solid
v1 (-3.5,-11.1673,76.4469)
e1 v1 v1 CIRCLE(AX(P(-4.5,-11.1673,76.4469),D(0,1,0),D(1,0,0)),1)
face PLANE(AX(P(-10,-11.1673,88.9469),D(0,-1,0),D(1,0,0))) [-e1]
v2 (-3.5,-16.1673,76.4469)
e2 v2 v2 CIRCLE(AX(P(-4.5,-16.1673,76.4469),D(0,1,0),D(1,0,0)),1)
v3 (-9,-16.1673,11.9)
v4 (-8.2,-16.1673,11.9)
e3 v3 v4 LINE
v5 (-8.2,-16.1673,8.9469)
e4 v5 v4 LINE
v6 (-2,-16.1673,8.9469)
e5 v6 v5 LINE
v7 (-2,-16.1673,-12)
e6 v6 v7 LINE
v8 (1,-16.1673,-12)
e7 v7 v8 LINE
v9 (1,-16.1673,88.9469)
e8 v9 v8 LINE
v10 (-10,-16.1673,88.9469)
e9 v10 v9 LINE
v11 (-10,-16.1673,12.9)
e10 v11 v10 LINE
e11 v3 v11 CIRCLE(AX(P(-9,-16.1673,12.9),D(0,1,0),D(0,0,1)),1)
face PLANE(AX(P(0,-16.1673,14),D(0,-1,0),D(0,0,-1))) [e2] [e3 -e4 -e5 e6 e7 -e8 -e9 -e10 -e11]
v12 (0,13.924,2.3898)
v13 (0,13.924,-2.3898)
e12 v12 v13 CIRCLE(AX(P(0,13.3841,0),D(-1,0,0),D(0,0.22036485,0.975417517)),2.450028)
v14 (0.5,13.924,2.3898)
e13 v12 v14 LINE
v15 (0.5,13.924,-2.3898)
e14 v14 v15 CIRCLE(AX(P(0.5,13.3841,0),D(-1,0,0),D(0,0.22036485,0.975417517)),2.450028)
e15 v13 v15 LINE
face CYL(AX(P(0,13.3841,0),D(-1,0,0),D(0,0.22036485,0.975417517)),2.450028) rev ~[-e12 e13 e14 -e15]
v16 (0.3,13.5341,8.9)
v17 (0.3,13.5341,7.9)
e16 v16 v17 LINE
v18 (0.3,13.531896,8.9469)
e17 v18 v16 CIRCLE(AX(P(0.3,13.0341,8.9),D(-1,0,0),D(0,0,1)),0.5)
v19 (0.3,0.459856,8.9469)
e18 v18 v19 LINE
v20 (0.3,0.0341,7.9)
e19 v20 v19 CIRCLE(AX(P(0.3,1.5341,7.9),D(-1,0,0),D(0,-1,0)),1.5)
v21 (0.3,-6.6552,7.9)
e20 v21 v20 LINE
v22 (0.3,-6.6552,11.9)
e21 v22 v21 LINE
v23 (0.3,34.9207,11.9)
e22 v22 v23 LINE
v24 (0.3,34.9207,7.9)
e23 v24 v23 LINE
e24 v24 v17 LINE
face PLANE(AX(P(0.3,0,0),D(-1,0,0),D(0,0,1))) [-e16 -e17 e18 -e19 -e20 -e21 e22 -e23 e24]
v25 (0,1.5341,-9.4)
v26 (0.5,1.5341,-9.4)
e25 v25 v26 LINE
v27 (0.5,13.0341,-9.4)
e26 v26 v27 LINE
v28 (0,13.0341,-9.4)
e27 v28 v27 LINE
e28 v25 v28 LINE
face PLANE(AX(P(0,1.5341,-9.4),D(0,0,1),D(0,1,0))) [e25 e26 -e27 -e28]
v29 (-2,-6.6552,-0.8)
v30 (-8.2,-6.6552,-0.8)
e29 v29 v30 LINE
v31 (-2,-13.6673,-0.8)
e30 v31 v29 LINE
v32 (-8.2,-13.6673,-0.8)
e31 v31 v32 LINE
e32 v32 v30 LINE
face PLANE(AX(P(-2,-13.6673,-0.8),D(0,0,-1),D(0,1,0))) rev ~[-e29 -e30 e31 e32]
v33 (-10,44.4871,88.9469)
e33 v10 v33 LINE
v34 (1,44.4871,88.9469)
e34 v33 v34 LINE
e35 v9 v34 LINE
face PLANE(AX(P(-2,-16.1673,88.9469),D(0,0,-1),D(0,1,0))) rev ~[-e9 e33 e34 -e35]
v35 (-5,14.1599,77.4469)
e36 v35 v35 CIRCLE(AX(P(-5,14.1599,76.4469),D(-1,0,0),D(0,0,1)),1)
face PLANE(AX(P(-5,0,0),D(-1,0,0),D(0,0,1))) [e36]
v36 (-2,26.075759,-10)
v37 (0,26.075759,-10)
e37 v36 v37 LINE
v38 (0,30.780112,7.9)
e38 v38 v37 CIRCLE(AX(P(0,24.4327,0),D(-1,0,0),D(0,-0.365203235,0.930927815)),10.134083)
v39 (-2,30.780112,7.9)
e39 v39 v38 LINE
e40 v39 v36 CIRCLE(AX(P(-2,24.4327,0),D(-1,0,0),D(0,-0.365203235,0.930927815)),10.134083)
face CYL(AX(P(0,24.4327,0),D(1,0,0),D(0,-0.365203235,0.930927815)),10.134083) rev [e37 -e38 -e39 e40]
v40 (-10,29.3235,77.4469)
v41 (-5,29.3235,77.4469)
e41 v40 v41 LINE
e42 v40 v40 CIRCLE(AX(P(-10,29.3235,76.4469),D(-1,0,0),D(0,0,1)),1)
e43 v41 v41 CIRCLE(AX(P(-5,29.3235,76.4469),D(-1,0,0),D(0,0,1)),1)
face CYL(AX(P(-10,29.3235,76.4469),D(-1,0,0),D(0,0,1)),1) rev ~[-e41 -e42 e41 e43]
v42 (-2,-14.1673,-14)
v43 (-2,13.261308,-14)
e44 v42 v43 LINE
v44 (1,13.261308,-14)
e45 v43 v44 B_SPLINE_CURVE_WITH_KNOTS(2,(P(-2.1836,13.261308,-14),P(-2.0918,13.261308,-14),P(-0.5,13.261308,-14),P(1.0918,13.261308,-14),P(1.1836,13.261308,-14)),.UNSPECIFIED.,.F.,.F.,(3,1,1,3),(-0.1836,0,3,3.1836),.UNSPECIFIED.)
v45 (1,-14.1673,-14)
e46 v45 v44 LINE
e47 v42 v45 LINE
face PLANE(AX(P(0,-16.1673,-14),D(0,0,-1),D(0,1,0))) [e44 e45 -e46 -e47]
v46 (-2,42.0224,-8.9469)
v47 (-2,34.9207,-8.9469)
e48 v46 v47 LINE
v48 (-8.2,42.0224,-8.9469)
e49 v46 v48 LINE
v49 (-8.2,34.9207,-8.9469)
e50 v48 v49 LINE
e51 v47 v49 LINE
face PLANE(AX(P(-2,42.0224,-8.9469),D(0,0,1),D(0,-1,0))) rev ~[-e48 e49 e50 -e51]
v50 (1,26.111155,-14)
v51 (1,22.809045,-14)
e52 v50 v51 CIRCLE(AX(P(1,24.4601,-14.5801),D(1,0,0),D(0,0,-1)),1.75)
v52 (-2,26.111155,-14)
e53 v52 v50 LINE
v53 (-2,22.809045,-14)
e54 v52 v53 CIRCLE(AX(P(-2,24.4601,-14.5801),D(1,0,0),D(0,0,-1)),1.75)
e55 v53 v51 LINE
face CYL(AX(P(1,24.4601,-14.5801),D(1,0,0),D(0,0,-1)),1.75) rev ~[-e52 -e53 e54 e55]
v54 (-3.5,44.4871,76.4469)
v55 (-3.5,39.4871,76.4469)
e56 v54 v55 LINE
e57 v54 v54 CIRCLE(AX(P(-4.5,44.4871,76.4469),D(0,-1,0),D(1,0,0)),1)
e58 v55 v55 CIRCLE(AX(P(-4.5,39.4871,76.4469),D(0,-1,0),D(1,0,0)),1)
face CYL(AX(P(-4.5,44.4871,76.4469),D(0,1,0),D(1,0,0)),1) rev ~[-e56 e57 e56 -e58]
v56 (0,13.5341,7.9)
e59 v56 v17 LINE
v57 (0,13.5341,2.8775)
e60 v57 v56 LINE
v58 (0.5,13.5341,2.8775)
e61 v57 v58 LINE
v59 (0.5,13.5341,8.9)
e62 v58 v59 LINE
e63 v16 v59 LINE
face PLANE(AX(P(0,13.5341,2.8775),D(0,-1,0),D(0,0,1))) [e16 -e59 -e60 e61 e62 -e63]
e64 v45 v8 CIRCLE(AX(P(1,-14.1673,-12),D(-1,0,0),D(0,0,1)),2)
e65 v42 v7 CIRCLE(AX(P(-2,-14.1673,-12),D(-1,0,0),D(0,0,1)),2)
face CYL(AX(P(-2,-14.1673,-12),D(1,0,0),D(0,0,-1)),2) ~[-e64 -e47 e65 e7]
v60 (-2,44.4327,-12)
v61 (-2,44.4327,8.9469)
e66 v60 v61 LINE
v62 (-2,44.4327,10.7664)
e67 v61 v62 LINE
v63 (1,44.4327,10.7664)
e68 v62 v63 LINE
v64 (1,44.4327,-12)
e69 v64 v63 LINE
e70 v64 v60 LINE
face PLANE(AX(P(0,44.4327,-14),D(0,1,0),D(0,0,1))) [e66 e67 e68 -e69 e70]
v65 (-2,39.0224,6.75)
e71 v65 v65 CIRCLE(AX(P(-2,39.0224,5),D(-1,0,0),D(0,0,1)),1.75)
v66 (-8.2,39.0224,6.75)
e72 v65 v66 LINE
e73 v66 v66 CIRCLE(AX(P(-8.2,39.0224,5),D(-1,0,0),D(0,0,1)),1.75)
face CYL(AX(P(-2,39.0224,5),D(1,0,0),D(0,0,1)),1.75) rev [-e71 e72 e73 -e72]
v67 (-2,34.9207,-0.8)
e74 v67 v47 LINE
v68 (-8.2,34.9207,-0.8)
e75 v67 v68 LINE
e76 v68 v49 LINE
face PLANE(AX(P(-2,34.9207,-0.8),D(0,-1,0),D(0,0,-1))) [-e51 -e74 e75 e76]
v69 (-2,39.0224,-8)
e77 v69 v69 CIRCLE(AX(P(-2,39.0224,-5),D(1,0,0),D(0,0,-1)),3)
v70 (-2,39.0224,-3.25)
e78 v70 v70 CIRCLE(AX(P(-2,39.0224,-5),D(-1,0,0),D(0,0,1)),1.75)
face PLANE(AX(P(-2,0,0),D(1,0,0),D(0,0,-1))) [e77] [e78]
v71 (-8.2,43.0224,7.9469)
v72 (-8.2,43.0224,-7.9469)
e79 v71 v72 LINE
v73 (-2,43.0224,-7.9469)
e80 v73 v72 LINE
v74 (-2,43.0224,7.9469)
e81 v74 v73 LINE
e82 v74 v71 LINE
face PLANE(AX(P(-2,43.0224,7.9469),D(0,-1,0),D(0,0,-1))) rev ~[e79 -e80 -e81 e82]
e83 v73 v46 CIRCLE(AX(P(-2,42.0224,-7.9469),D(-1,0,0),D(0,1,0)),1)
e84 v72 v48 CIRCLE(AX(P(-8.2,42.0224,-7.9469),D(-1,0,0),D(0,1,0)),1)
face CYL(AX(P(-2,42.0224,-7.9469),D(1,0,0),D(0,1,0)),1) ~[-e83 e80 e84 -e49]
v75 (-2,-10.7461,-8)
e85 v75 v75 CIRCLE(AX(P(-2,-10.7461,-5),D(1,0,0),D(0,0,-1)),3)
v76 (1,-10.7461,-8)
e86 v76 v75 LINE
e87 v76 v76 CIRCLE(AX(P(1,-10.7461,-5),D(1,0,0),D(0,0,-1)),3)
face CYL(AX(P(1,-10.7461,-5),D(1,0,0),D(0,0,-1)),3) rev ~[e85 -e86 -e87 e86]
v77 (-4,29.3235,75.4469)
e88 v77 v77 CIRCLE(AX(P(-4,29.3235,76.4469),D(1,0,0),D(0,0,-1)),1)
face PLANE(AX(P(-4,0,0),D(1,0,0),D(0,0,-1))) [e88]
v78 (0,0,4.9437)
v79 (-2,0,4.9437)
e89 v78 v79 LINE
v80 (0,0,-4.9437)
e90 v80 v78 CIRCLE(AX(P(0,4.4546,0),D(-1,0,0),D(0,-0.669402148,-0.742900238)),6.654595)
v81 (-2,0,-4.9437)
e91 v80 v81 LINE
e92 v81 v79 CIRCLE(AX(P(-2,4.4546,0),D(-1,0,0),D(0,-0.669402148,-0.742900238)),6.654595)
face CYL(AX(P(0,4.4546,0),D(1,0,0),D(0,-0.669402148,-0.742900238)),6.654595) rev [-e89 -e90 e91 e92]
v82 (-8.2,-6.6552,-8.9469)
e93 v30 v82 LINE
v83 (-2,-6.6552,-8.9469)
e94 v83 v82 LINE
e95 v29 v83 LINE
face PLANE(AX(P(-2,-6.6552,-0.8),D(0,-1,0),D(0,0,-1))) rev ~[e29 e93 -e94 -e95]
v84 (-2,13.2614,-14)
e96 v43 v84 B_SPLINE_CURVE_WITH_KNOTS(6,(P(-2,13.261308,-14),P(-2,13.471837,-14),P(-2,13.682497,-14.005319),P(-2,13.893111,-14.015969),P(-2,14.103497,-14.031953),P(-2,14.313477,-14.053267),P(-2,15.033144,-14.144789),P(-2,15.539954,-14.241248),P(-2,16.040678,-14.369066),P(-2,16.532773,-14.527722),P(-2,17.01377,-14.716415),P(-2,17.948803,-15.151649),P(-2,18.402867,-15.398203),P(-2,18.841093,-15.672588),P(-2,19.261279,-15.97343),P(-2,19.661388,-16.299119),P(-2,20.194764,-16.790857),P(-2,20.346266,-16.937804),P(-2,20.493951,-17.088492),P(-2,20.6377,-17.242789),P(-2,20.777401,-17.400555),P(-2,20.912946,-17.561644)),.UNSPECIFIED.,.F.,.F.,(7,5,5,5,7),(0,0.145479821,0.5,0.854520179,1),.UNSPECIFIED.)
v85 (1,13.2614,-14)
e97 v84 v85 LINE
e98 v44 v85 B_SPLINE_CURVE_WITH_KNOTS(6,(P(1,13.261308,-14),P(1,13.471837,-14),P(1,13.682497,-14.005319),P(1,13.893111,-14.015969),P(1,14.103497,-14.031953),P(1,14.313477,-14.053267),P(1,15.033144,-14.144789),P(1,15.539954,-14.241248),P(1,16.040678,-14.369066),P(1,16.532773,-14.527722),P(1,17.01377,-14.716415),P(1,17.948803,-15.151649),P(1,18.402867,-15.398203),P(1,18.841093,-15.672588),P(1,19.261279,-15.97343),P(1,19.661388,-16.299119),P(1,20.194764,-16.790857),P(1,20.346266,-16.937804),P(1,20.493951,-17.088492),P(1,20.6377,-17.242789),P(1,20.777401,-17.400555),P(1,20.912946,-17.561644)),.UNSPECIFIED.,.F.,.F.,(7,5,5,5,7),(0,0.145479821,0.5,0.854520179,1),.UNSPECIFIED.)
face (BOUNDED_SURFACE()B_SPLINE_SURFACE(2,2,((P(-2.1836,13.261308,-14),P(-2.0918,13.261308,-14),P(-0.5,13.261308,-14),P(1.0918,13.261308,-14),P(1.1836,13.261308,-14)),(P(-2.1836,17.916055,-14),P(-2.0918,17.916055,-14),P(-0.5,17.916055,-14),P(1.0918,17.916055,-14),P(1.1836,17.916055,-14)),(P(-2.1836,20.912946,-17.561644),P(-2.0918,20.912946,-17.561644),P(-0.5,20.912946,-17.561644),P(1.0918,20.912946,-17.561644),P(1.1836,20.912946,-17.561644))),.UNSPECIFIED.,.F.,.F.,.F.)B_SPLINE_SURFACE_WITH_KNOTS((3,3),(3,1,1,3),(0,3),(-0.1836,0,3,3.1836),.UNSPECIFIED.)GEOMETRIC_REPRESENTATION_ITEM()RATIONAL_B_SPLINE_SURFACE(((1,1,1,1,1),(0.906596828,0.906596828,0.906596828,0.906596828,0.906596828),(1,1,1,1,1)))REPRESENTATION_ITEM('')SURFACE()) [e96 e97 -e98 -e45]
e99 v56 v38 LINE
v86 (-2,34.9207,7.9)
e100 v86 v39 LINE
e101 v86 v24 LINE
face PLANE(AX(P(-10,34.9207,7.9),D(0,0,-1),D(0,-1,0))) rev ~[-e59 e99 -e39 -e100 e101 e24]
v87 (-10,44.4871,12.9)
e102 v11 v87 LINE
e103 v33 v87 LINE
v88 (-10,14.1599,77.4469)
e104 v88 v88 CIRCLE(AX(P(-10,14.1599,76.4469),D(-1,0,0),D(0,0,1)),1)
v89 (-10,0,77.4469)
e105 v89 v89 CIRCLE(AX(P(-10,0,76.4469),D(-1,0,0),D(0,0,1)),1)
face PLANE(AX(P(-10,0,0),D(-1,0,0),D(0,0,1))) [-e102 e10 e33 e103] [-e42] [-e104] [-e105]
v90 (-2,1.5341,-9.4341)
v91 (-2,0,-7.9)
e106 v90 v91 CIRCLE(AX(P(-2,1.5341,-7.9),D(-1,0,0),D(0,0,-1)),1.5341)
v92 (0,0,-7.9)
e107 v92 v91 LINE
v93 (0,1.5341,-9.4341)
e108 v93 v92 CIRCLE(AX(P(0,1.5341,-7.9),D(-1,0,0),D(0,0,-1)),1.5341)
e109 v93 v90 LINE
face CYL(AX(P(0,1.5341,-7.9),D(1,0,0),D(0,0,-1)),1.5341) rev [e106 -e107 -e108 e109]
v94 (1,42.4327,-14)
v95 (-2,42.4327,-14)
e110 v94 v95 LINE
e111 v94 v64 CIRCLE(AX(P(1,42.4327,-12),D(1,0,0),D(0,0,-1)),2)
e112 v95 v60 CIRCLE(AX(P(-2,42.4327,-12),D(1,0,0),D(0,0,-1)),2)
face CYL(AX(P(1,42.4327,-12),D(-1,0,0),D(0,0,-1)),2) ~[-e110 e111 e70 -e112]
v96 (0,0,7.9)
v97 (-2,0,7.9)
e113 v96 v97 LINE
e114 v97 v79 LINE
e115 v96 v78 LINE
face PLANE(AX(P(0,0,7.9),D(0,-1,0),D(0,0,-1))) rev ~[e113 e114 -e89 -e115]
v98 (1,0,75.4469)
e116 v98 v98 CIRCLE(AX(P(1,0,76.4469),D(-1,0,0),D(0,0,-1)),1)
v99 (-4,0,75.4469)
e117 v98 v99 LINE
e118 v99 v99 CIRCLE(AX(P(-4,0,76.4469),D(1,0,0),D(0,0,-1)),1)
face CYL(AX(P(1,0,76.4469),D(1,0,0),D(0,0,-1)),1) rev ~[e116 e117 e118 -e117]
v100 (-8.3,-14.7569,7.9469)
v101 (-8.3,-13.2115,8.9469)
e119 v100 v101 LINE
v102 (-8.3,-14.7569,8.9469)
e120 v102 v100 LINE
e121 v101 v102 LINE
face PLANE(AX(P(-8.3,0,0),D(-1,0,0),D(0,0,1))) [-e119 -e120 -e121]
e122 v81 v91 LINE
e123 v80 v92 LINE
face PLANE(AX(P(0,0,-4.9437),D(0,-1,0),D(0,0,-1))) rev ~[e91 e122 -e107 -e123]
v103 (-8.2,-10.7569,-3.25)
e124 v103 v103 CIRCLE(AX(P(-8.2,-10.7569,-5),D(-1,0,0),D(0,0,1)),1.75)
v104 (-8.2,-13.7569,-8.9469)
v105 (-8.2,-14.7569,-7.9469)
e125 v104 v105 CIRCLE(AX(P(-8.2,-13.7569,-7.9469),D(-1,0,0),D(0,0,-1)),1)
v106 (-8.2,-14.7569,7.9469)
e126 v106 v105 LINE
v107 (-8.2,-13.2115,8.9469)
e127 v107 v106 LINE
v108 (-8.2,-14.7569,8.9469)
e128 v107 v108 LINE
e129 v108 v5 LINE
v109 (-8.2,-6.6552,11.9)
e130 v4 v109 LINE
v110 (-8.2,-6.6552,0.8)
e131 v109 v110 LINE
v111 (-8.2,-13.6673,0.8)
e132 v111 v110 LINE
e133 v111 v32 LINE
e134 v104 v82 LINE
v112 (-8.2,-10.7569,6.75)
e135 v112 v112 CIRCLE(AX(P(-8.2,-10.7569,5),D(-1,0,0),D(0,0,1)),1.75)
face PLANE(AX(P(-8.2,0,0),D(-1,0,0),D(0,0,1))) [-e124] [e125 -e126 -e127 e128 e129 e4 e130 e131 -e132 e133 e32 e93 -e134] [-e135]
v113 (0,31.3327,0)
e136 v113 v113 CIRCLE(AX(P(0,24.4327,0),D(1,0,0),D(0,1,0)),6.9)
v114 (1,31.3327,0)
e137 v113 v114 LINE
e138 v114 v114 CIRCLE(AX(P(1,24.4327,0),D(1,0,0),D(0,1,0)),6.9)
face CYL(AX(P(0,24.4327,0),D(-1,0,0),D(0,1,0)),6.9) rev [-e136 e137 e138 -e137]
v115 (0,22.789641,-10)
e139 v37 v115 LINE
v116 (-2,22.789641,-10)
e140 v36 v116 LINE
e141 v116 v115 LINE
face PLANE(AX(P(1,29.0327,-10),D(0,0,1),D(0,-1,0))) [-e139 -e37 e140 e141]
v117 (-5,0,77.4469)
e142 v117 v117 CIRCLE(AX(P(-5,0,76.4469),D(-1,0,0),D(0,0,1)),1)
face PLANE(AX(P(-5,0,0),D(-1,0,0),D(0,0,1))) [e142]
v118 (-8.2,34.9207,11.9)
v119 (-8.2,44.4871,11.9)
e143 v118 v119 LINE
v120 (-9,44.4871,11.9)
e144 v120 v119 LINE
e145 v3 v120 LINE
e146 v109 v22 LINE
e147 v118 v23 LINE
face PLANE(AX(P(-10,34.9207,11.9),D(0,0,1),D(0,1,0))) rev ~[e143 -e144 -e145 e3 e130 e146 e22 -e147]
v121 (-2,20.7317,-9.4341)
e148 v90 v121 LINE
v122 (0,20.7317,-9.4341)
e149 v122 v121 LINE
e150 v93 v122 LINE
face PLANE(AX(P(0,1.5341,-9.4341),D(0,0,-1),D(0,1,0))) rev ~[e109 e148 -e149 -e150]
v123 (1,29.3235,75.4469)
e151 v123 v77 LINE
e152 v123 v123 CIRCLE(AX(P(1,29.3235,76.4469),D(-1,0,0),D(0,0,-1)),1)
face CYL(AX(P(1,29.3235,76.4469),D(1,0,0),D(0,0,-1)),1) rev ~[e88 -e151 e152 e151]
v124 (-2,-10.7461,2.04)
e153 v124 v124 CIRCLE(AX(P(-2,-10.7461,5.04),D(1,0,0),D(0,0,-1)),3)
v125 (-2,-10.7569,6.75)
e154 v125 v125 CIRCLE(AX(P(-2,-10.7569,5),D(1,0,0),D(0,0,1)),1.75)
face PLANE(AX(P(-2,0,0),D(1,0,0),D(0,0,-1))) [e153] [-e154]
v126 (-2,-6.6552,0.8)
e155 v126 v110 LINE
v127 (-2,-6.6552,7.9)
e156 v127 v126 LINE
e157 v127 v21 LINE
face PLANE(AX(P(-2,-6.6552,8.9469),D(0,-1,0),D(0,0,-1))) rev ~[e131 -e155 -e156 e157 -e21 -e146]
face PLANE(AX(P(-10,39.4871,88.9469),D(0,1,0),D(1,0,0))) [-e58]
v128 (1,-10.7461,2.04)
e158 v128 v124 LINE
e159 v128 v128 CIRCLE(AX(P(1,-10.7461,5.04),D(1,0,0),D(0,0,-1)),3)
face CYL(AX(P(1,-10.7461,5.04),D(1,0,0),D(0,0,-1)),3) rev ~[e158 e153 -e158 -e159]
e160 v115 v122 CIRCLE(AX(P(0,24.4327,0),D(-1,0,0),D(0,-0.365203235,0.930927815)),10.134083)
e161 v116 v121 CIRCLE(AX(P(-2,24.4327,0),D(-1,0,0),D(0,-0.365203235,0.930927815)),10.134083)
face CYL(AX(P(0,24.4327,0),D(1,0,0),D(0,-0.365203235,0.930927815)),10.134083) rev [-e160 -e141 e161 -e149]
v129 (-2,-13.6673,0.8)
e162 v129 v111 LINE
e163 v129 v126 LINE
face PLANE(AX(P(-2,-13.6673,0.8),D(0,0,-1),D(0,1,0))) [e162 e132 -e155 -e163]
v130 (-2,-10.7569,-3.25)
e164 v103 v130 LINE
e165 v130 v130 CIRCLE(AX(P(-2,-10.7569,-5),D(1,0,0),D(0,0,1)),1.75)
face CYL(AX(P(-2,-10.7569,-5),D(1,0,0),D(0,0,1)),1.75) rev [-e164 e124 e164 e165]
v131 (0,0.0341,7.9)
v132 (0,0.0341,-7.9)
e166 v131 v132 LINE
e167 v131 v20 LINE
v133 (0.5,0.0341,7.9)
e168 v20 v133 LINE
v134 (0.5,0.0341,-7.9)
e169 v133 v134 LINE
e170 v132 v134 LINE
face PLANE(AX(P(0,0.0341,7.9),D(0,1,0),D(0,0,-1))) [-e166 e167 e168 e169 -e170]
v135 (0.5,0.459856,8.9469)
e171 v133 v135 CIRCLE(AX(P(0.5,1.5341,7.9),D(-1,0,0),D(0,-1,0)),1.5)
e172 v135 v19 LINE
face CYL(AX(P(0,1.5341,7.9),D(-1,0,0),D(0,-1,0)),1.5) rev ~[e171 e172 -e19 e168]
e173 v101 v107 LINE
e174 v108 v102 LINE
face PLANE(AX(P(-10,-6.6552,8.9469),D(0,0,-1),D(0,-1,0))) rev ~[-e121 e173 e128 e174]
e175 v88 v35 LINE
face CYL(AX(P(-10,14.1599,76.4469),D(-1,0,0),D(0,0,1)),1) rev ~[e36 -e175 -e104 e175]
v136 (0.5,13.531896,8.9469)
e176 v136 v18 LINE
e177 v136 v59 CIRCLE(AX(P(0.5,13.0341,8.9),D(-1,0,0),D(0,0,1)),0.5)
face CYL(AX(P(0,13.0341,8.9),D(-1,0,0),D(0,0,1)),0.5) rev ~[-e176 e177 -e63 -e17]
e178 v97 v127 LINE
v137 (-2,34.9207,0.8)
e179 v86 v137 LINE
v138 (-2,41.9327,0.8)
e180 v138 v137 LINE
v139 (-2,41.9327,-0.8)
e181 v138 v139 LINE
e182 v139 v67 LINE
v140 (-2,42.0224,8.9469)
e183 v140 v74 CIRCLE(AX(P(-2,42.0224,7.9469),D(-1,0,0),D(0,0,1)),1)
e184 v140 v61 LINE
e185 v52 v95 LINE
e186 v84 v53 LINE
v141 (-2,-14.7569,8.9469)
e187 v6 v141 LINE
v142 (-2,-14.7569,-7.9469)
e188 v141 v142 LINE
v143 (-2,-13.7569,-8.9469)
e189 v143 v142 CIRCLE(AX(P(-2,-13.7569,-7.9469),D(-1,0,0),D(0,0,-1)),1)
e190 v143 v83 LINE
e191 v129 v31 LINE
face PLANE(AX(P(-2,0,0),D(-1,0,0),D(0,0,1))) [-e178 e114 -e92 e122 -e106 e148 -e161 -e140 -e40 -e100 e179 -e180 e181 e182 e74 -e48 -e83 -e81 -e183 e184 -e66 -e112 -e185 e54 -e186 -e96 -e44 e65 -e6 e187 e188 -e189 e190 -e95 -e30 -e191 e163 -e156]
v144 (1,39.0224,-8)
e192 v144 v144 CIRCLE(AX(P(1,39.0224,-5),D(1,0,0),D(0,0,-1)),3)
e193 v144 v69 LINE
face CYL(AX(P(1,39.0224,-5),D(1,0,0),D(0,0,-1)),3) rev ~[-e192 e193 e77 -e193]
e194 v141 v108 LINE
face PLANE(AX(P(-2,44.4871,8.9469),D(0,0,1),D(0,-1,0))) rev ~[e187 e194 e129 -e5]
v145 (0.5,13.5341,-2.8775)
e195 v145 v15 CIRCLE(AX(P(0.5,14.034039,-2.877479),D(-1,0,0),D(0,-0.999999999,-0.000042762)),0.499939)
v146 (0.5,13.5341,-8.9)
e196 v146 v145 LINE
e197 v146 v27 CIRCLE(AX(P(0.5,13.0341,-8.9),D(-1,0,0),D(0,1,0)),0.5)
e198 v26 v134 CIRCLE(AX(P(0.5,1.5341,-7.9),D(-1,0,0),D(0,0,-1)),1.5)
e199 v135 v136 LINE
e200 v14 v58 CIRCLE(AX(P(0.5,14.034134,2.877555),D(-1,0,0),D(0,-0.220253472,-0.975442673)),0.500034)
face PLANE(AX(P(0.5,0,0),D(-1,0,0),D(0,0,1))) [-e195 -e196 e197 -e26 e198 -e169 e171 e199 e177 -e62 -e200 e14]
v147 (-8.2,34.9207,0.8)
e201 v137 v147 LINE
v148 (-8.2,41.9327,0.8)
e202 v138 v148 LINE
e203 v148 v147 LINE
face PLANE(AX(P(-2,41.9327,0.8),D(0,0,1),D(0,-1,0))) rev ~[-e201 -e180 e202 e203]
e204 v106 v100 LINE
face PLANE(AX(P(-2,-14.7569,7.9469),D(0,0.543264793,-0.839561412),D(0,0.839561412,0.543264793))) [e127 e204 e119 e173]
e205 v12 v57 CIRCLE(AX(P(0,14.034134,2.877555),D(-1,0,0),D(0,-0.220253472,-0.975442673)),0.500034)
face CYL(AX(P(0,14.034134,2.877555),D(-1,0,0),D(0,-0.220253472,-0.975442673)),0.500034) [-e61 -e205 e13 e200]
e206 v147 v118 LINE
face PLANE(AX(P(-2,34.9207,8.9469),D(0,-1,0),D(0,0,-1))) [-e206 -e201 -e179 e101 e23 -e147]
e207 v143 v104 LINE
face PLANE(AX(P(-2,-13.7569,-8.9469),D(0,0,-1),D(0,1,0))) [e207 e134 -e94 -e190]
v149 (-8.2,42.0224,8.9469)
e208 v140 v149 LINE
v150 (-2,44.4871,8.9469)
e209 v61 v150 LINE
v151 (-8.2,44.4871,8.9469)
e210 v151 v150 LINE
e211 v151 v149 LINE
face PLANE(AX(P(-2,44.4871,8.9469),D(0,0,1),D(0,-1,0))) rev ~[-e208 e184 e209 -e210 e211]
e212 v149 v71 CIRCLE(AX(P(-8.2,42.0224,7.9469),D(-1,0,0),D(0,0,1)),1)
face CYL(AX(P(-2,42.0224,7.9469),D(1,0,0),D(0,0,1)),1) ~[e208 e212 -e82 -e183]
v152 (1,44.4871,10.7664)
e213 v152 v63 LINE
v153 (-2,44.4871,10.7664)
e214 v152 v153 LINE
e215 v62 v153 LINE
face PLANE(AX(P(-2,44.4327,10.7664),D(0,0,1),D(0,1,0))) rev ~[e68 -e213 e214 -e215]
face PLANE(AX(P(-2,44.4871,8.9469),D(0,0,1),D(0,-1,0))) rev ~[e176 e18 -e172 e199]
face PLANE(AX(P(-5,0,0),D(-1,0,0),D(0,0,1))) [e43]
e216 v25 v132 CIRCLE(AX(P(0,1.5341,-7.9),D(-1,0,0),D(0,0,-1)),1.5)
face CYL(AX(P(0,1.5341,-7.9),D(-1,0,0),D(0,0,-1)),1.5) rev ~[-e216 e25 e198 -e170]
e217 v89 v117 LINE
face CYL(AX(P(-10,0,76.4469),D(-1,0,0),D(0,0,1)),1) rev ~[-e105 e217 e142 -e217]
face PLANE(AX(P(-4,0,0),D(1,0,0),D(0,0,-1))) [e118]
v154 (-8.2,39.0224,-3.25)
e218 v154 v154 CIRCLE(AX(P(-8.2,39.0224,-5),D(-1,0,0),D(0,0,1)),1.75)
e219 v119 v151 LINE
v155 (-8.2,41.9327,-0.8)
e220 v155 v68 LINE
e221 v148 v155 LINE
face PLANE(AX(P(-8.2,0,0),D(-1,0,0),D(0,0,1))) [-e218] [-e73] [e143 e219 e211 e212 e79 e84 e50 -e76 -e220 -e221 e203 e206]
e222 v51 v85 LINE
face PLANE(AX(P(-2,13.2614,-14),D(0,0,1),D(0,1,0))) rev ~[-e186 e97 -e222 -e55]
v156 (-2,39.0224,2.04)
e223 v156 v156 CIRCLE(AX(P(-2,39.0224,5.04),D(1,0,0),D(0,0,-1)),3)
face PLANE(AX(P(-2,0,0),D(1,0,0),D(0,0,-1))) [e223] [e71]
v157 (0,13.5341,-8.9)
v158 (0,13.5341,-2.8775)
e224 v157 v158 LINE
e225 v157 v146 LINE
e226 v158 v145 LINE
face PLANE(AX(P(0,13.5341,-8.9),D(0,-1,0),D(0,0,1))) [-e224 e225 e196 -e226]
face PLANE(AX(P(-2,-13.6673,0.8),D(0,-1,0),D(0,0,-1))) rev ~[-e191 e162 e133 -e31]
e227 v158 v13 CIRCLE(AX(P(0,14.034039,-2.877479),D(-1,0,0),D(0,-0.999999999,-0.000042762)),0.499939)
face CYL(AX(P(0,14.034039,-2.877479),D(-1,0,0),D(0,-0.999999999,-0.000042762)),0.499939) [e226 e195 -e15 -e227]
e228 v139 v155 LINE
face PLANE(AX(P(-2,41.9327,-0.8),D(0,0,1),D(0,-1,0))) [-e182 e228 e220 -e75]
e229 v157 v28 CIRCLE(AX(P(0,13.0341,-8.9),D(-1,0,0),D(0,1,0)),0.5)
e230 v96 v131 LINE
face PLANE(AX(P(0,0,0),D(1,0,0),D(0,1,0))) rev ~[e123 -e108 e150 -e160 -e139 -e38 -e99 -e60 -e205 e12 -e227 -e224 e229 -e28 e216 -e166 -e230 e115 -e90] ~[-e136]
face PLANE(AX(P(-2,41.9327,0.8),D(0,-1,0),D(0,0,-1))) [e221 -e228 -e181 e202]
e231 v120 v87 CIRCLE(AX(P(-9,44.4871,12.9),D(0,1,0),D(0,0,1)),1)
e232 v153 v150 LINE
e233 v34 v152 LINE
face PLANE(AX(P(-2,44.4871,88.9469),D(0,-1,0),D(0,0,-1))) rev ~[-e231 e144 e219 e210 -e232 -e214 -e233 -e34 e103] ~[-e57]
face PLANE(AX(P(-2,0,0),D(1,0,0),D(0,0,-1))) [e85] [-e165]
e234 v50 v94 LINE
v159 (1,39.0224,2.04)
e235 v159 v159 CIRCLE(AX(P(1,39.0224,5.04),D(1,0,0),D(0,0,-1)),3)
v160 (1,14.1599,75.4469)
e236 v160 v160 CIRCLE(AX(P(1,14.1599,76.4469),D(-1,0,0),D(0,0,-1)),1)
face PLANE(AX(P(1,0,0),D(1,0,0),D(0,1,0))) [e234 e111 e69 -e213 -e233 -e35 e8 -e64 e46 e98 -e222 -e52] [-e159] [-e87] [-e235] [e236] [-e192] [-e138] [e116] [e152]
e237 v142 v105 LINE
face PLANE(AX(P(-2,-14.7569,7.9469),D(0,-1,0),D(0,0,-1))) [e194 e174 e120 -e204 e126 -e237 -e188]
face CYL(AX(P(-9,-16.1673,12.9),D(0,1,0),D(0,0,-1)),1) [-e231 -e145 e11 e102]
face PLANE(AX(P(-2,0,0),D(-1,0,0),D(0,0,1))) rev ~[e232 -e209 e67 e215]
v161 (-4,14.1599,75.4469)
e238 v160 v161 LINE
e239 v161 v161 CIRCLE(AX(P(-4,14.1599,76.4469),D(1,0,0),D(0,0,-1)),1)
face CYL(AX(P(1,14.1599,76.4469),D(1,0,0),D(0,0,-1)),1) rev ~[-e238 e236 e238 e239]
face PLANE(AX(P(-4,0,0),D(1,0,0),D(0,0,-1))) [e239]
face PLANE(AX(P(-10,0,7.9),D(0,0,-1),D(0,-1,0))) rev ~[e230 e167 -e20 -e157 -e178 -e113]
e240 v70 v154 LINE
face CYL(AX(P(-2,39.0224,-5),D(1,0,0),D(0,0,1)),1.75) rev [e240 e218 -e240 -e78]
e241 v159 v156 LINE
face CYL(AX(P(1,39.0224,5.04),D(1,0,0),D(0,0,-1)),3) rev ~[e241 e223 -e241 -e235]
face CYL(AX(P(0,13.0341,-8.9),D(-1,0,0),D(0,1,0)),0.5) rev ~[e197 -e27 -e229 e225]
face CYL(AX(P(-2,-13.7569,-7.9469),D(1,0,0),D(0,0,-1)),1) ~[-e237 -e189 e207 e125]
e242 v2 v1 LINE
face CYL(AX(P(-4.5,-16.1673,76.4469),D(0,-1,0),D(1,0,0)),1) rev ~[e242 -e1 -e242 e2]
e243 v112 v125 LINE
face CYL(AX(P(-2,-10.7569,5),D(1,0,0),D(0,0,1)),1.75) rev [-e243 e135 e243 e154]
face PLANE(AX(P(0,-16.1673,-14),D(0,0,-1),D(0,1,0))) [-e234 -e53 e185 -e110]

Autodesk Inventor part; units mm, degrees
ref_plane "YZ Plane" through (0, 0, 0) normal (1, 0, 0) x (0, 1, 0)
ref_plane "XZ Plane" through (0, 0, 0) normal (0, 1, 0) x (-1, 0, 0)
ref_plane "XY Plane" through (0, 0, 0) normal (0, 0, 1) x (1, 0, 0)
sketch "Boceto2" plane through (0, 0, 0) normal (1, 0, 0) x (0, 1, 0)
  line L0 (44.4327, 14) -> (-16.1673, 14)
  line L1 (-16.1673, 14) -> (-16.1673, -14)
  line L2 (-16.1673, -14) -> (44.4327, -14)
  line L3 (44.4327, -14) -> (44.4327, 14)
  line L4 (-13.1673, 3.75) -> (-13.1673, -3.75) construction
  line L5 (41.4327, 3.75) -> (41.4327, -3.75) construction
  circle A0 centre (24.4327, 0) radius 6.4 construction
  circle A1 centre (24.4327, 0) radius 6.9
  point P0 (-16.1673, 0)
  point P1 (0, 0)
  dimension "d11" = 28
  dimension "d12" = 3
  dimension "d13" = 3
  dimension "d14" = 0.5
extrude "Extrusión2" add sketch "Boceto2" along normal blind 1
sketch "Boceto3" plane through (0, 0, 0) normal (-1, 0, 0) x (0, 0, 1)
  line L0 (-8.9, 13.0341) -> (-1.9183, 13.0341) construction
  line L1 (-8.9, 1.5341) -> (-8.9, 13.0341) construction
  arc A0 (-8.9, 1.5341) -> (-7.9, 0.5341) centre (-7.9, 1.5341) ccw construction
  line L2 (7.9, 0.5341) -> (-7.9, 0.5341) construction
  arc A1 (7.9, 0.5341) -> (8.9, 1.5341) centre (7.9, 1.5341) ccw construction
  line L3 (8.9, 13.0341) -> (8.9, 1.5341) construction
  arc A2 (1.9183, 13.0341) -> (-1.9183, 13.0341) centre (0, 13.3841) ccw construction
  line L4 (1.9183, 13.0341) -> (8.9, 13.0341) construction
  line L5 (-8.9, 13.5341) -> (-2.8775, 13.5341)
  arc A3 (2.3898, 13.924) -> (-2.3898, 13.924) centre (0, 13.3841) ccw
  line L6 (2.8775, 13.5341) -> (8.9, 13.5341)
  line L7 (9.4, 13.0341) -> (9.4, 1.5341)
  arc A4 (7.9, 0.0341) -> (9.4, 1.5341) centre (7.9, 1.5341) ccw
  line L8 (7.9, 0.0341) -> (-7.9, 0.0341)
  arc A5 (-9.4, 1.5341) -> (-7.9, 0.0341) centre (-7.9, 1.5341) ccw
  line L9 (-9.4, 1.5341) -> (-9.4, 13.0341)
  arc A6 (-2.8775, 13.5341) -> (-2.3898, 13.924) centre (-2.8775, 14.0341) ccw
  arc A7 (2.3898, 13.924) -> (2.8775, 13.5341) centre (2.8775, 14.0341) ccw
  arc A8 (9.4, 13.0341) -> (8.9, 13.5341) centre (8.9, 13.0341) ccw
  arc A9 (-8.9, 13.5341) -> (-9.4, 13.0341) centre (-8.9, 13.0341) ccw
  point P0 (-2.4454, 13.5341)
  point P1 (2.4454, 13.5341)
  dimension "d19" = 0.5
  dimension "d20" = 0.5
extrude "Extrusión3" cut sketch "Boceto3" against normal blind 0.5
sketch "Boceto4" plane through (0, 0, 0) normal (-1, 0, 0) x (0, 0, 1)
  arc A0 (-4.7, 0.5341) -> (4.7, 0.5341) centre (0, 4.4546) ccw construction
  line L0 (-4.7, 0.5341) -> (-7.9, 0.5341) construction
  arc A1 (-8.9, 1.5341) -> (-7.9, 0.5341) centre (-7.9, 1.5341) ccw construction
  line L1 (-8.9, 1.5341) -> (-8.9, 20.8341) construction
  arc A2 (8.9, 20.8341) -> (-8.9, 20.8341) centre (0, 24.4327) ccw construction
  line L2 (8.9, 20.8341) -> (8.9, 13.0341) construction
  arc A3 (7.9, 0.5341) -> (8.9, 1.5341) centre (7.9, 1.5341) ccw construction
  line L3 (8.9, 13.0341) -> (8.9, 1.5341) construction
  line L4 (7.9, 0.5341) -> (4.7, 0.5341) construction
  arc A4 (-4.9437, 0) -> (4.9437, 0) centre (0, 4.4546) ccw
  line L5 (-4.9437, 0) -> (-7.9, 0)
  arc A5 (-9.4341, 1.5341) -> (-7.9, 0) centre (-7.9, 1.5341) ccw
  line L6 (-9.4341, 1.5341) -> (-9.4341, 20.7317)
  arc A6 (9.4341, 20.7317) -> (-9.4341, 20.7317) centre (0, 24.4327) ccw
  line L7 (9.4341, 20.7317) -> (9.4341, 13.0341)
  line L8 (9.4341, 13.0341) -> (9.4341, 1.5341)
  arc A7 (7.9, 0) -> (9.4341, 1.5341) centre (7.9, 1.5341) ccw
  line L9 (7.9, 0) -> (4.9437, 0)
  line L10 (14, 44.4327) -> (14, -16.1673)
  line L11 (14, -16.1673) -> (-14, -16.1673)
  line L12 (-14, -16.1673) -> (-14, 44.4327)
  line L13 (-14, 44.4327) -> (14, 44.4327)
  point P0 (0, 0)
extrude "Extrusión4" add sketch "Boceto4" along normal blind 2
sketch "Boceto5" plane through (-2, 0, 0) normal (-1, 0, 0) x (0, 0, 1)
  line L0 (0.6, -6.1673) -> (0.6, -13.1673) construction
  line L1 (-0.6, -6.1673) -> (-0.6, -13.1673) construction
  arc A0 (6.25, -12.5673) -> (3.75, -12.5673) centre (5, -10.7569) ccw construction
  arc A1 (-3.75, -12.5673) -> (-6.25, -12.5673) centre (-5, -10.7569) ccw construction
  line L2 (3.75, -13.1673) -> (-3.75, -13.1673) construction
  line L3 (8.9469, -6.6552) -> (8.9469, -13.7569)
  line L4 (7.9469, -14.7569) -> (-7.9469, -14.7569)
  line L5 (-8.9469, -13.7569) -> (-8.9469, -6.6552)
  line L6 (0.8, -13.6673) -> (0.8, -6.6552)
  line L7 (-0.8, -13.6673) -> (-0.8, -6.6552)
  line L8 (0.8, -13.1673) -> (-0.8, -13.1673) construction
  circle A2 centre (5, -10.7569) radius 1.75
  circle A3 centre (-5, -10.7569) radius 1.75
  circle A4 centre (0, 24.4327) radius 6.9 projected
  line L9 (14, 44.4327) -> (14, -16.1673) projected
  line L10 (14, -16.1673) -> (-14, -16.1673) projected
  line L11 (-14, -16.1673) -> (-14, 44.4327) projected
  line L12 (-14, 44.4327) -> (14, 44.4327) projected
  line L13 (-8.9, -6.1552) -> (8.9, -6.1552) construction
  line L14 (0.8, -13.6673) -> (-0.8, -13.6673)
  line L15 (8.9469, -6.6552) -> (0.8, -6.6552)
  line L16 (-0.8, -6.6552) -> (-8.9469, -6.6552)
  arc A5 (7.9469, -14.7569) -> (8.9469, -13.7569) centre (7.9469, -13.7569) ccw
  arc A6 (-8.9469, -13.7569) -> (-7.9469, -14.7569) centre (-7.9469, -13.7569) ccw
  line L17 (14, 44.4327) -> (14, -16.1673) projected
  line L18 (14, 14.1327) -> (-14, 14.1327) construction
  line L19 (-14, -16.1673) -> (-14, 44.4327) projected
  line L20 (8.9469, 34.9207) -> (8.9469, 42.0224)
  line L21 (7.9469, 43.0224) -> (-7.9469, 43.0224)
  line L22 (-8.9469, 42.0224) -> (-8.9469, 34.9207)
  line L23 (0.8, 41.9327) -> (0.8, 34.9207)
  line L24 (-0.8, 41.9327) -> (-0.8, 34.9207)
  circle A7 centre (5, 39.0224) radius 1.75
  circle A8 centre (-5, 39.0224) radius 1.75
  line L25 (0.8, 41.9327) -> (-0.8, 41.9327)
  line L26 (8.9469, 34.9207) -> (0.8, 34.9207)
  line L27 (-0.8, 34.9207) -> (-8.9469, 34.9207)
  arc A9 (8.9469, 42.0224) -> (7.9469, 43.0224) centre (7.9469, 42.0224) ccw
  arc A10 (-7.9469, 43.0224) -> (-8.9469, 42.0224) centre (-7.9469, 42.0224) ccw
  line L28 (8.9469, -13.7569) -> (8.9469, -14.7569)
  line L29 (8.9469, -14.7569) -> (7.9469, -14.7569)
  line L30 (8.9469, 42.0224) -> (8.9469, 43.0224)
  line L31 (8.9469, 43.0224) -> (7.9469, 43.0224)
  line L32 (7.9469, -14.7569) -> (8.9469, -13.7569)
  line L33 (8.9469, 42.0224) -> (7.9469, 43.0224)
  point P0 (0, 0)
  point P1 (0, -14.7569)
  point P2 (0, -13.1673)
  point P3 (8.9469, -6.1538)
  dimension "d26" = 0.2
  dimension "d27" = 3.5
  dimension "d28" = 3.5
  dimension "d30" = 4
  dimension "d31" = 0.5
  dimension "d32" = 0.5
  dimension "d33" = 1
extrude "Extrusión5" add sketch "Boceto5" along normal blind 6.2 contours L3 L32 L4 A6 L5 L16 L7 L14 L6 L15 | A5 L32 | L26 L23 L25 L24 L27 L22 A10 L21 L33 L20 | L33 A9
sketch "Boceto10" plane through (1, 0, 0) normal (1, 0, 0) x (0, 0, -1)
  line L0 (-36.5, -8.2479) -> (-36.5, 49.1121) construction
  circle A0 centre (0, 24.4327) radius 0.8 construction
  circle A1 centre (14.6, 24.4327) radius 1.6
  arc A2 (14.6, 19.8327) -> (14.6, 29.0327) centre (14.6, 24.4327) ccw
  line L1 (14.6, 29.0327) -> (10, 29.0327)
  line L2 (14.6, 19.8327) -> (10, 19.8327)
  line L3 (0, 29.0327) -> (0, 19.8327) construction
  line L4 (10, 29.0327) -> (10, 19.8327)
  circle A3 centre (-14.6, 24.4327) radius 1.6
  arc A4 (-14.6, 29.0327) -> (-14.6, 19.8327) centre (-14.6, 24.4327) ccw
  line L5 (-14.6, 29.0327) -> (-10, 29.0327)
  line L6 (-14.6, 19.8327) -> (-10, 19.8327)
  line L7 (-10, 29.0327) -> (-10, 19.8327)
  line L8 (14.6, 24.4327) -> (-14.6, 24.4327) construction
  point P0 (0, 0)
  point P1 (19.2, 24.4327)
  point P2 (19.2, 24.4327)
  dimension "d50" = 3.2
  dimension "d51" = 3
  dimension "d57" = 9.2
  dimension "d58" = 20
extrude "Extrusión10" add sketch "Boceto10" against normal blind 3
fillet "Empalme3" radius 10 4 edges at (-0.5, 29.0327, -14) (-0.5, 19.8327, -14) (-0.5, 29.0327, 14) (-0.5, 19.8327, 14)
sketch "Boceto11" plane through (-2, 0, 0) normal (-1, 0, 0) x (0, 0, 1)
  arc A0 (-14, 25.916) -> (-14, 22.9495) centre (-14.6, 24.4327) ccw projected
  arc A1 (14, 22.9495) -> (14, 25.916) centre (14.6, 24.4327) ccw projected
  circle A2 centre (14.6, 24.4327) radius 1.6
  circle A3 centre (-14.6, 24.4327) radius 1.6
  point P0 (0, 0)
extrude "Extrusión11" cut sketch "Boceto11" against normal blind 10
sketch "Boceto13" plane through (-2, -10.7569, 5) normal (-1, 0, 0) x (0, 0, 1)
  circle A0 centre (0, 0) radius 1.75 projected
  circle A1 centre (-10, 0) radius 1.75 projected
  circle A2 centre (0, 49.7792) radius 1.75 projected
  circle A3 centre (-10, 49.7792) radius 1.75 projected
  point P0 (-5, 10.7569)
extrude "Extrusión13" cut sketch "Boceto13" against normal blind 2.5
sketch "Boceto14" plane through (1, 0, 0) normal (1, 0, 0) x (0, 0, -1)
  line L0 (14, 44.4327) -> (-14, 44.4327) projected
  line L1 (0, 44.4327) -> (-10, 44.4327)
  line L2 (-10, 44.4327) -> (10, 44.4327)
  line L3 (-10, 44.4327) -> (10, 44.4327)
  line L4 (10, 44.4327) -> (10, 54.4327)
  line L5 (10, 54.4327) -> (-10, 54.4327)
  line L6 (-10, 54.4327) -> (-10, 44.4327)
  point P0 (0, 0)
  point P1 (11, 44.4327)
  point P2 (-11, 44.4327)
  dimension "d69" = 10
  dimension "d70" = 20
  dimension "d71" = 20
  dimension "d72" = 10
extrude "Extrusión14" add sketch "Boceto14" against normal blind 3
fillet "Empalme6" radius 2 2 edges at (-0.5, 54.4327, 10) (-0.5, 54.4327, -10)
sketch "Boceto15" plane through (1, 0, 0) normal (1, 0, 0) x (0, 0, -1)
  circle A0 centre (0, 49.0257) radius 1.75
  line L0 (-8, 54.4327) -> (8, 54.4327) projected
  line L1 (0, 49.0257) -> (-10, 49.0257)
  line L2 (-10, 44.4327) -> (-10, 52.4327) projected
  line L3 (0, 54.4327) -> (0, 49.0257)
  point P0 (0, 0)
  dimension "d76" = 3.5
  dimension "d86" = 5.407
extrude "Extrusión15" cut sketch "Boceto15" against normal blind 3
sketch "Boceto16" plane through (1, 0, 0) normal (1, 0, 0) x (0, 0, -1)
  circle A0 centre (-5.04, 39.0224) radius 3
  circle A1 centre (5, 39.0224) radius 3
  circle A2 centre (5, -10.7461) radius 3
  circle A3 centre (-5.04, -10.7461) radius 3
  point P0 (0, 0)
  dimension "d79" = 6
  dimension "d80" = 6
  dimension "d81" = 6
  dimension "d82" = 6
extrude "Extrusión16" cut sketch "Boceto16" against normal blind 3
sketch "Boceto17" plane through (1, 0, 0) normal (1, 0, 0) x (0, 0, -1)
  circle A0 centre (-14.6125, 24.4601) radius 1.75
  circle A1 centre (14.5801, 24.4601) radius 1.75
  point P0 (0, 0)
  dimension "d87" = 3.5
  dimension "d88" = 3.5
extrude "Extrusión17" cut sketch "Boceto17" against normal blind 10
sketch "Boceto19" plane through (-2, 0, 0) normal (-1, 0, 0) x (0, 0, 1)
  line L0 (8.9469, -6.6552) -> (8.9469, -13.7569) projected
  line L1 (8.9469, -6.6552) -> (8.9469, -13.7569)
  line L2 (14, -16.1673) -> (-14, -16.1673) projected
  line L3 (8.9469, -16.1673) -> (88.9469, -16.1673)
  line L4 (88.9469, -16.1673) -> (88.9469, 44.4871)
  line L5 (88.9469, 44.4871) -> (8.9469, 44.4871)
  line L6 (8.9469, 44.4871) -> (8.9469, -16.1673)
  point P0 (0, 0)
  dimension "d91" = 80
extrude "Extrusión18" add sketch "Boceto19" along normal blind 8 and the other way blind 3
sketch "Boceto20" plane through (-2, 0, 0) normal (-1, 0, 0) x (0, 0, 1)
  line L0 (-14, 44.4327) -> (-10, 44.4327) projected
  line L1 (-10, 44.4327) -> (10.7664, 44.4327)
  line L2 (10.7664, 44.4327) -> (10.7664, 56.4243)
  line L3 (10.7664, 56.4243) -> (-10, 56.4243)
  line L4 (-10, 56.4243) -> (-10, 44.4327)
  point P0 (0, 0)
extrude "Extrusión19" cut sketch "Boceto20" against normal blind 10
sketch "Boceto21" plane through (-2, 0, 0) normal (-1, 0, 0) x (0, 0, 1)
  line L0 (-14, 35.6041) -> (-19.9956, 35.6041)
  line L1 (-19.9956, 35.6041) -> (-19.9956, 13.2614)
  line L2 (-19.9956, 13.2614) -> (-14, 13.2614)
  line L3 (-14, 13.2614) -> (-14, 35.6041)
  point P0 (0, 0)
extrude "Extrusión20" cut sketch "Boceto21" against normal blind 10
sketch "Boceto22" plane through (-2, 0, 0) normal (-1, 0, 0) x (0, 0, 1)
  line L0 (-7.9469, -14.7569) -> (7.9469, -14.7569) projected
  line L1 (7.9469, -14.7569) -> (8.9469, -13.2115)
  line L2 (8.9469, 44.4871) -> (8.9469, -16.1673) projected
  line L3 (8.9469, -14.7569) -> (7.9469, -14.7569)
  point P0 (0, 0)
extrude "Extrusión21" add sketch "Boceto22" along normal blind 6.3 and the other way blind 3
fillet "Empalme7" radius 2 2 edges at (-0.5, 44.4327, -14) (-0.5, -16.1673, -14)
sketch "Boceto23" plane through (-10, 0, 0) normal (-1, 0, 0) x (0, 0, 1)
  line L0 (7.9, 0) -> (4.9437, 0) projected
  line L1 (9.9, 34.9207) -> (7.9, 34.9207)
  line L2 (8.9469, -6.6552) -> (0.8, -6.6552) projected
  line L3 (7.9, -6.6552) -> (11.9, -6.6552)
  line L4 (11.9, -6.6552) -> (11.9, 34.9207)
  line L5 (11.9, 34.9207) -> (7.9, 34.9207)
  line L6 (7.9, 34.9207) -> (7.9, -6.6552)
  point P0 (0, 0)
  dimension "d105" = 2
  dimension "d130" = 4
extrude "Extrusión22" cut sketch "Boceto23" against normal blind 10.3
sketch "Boceto24" plane through (-10, 0, 0) normal (-1, 0, 0) x (0, 0, 1)
  line L0 (88.9469, 44.4871) -> (88.9469, -16.1673) projected
  line L1 (88.9469, -16.1673) -> (88.9469, 44.4871)
  line L2 (88.9469, 44.4871) -> (88.9469, 14.1599)
  line L3 (88.9469, -16.1673) -> (88.9469, 0)
  line L4 (88.9469, 14.1599) -> (88.9469, 29.3235)
  line L5 (88.9469, 0) -> (76.4469, 0)
  line L6 (88.9469, 29.3235) -> (76.4469, 29.3235)
  circle A0 centre (76.4469, 0) radius 1
  circle A1 centre (76.4469, 29.3235) radius 1
  line L7 (88.9469, 14.1599) -> (76.4469, 14.1599)
  circle A2 centre (76.4469, 14.1599) radius 1
  point P0 (0, 0)
  dimension "d108" = 12.5
  dimension "d109" = 12.5
  dimension "d110" = 2
  dimension "d111" = 2
  dimension "d112" = 12.5
  dimension "d113" = 2
extrude "Extrusión23" cut sketch "Boceto24" against normal blind 5
sketch "Boceto25" plane through (1, 0, 0) normal (1, 0, 0) x (0, 0, -1)
  line L0 (-88.9469, -16.1673) -> (-88.9469, 44.4871) projected
  line L1 (-88.9469, 14.1599) -> (-76.4469, 14.1599)
  line L2 (-88.9469, 44.4871) -> (-88.9469, 14.1599)
  circle A0 centre (-76.4469, 29.3235) radius 1 projected
  line L3 (-88.9469, 29.3235) -> (-76.4469, 29.3235)
  line L4 (-88.9469, 14.1599) -> (-88.9469, 1.6599)
  line L5 (-88.9469, 1.6599) -> (-76.5855, 1.6599)
  circle A1 centre (-76.4469, 29.3235) radius 1
  circle A2 centre (-76.5855, 1.6599) radius 1
  circle A3 centre (-76.4469, 0) radius 1 projected
  circle A4 centre (-76.4469, 0) radius 1
  circle A5 centre (-76.4469, 14.1599) radius 1
  point P0 (0, 0)
  dimension "d116" = 12.5
  dimension "d117" = 12.5
  dimension "d118" = 12.5
  dimension "d121" = 2
extrude "Extrusión24" cut sketch "Boceto25" against normal blind 5 contours A0 | A5 | A3 A2 | A2 A3 picked at (-76.5506, 0.7735) picked at (-76.4878, -0.4416)
sketch "Boceto26" plane through (-10, 44.4871, 88.9469) normal (0, 1, 0) x (1, 0, 0)
  line L0 (11, 0) -> (0, 0) projected
  line L1 (5.5, 0) -> (5.5, 12.5)
  circle A0 centre (5.5, 12.5) radius 1
  point P0 (10, 88.9469)
  dimension "d122" = 12.5
  dimension "d123" = 2
extrude "Extrusión25" cut sketch "Boceto26" against normal blind 5
sketch "Boceto27" plane through (-10, -16.1673, 88.9469) normal (0, -1, 0) x (1, 0, 0)
  line L0 (11, 0) -> (0, 0) projected
  line L1 (5.5, 0) -> (5.5, -12.5)
  circle A0 centre (5.5, -12.5) radius 1
  point P0 (10, -88.9469)
  dimension "d126" = 12.5
  dimension "d127" = 2
extrude "Extrusión26" cut sketch "Boceto27" against normal blind 5
sketch "Boceto28" plane through (-10, 0, 0) normal (-1, 0, 0) x (0, 0, 1)
  line L0 (11.9, -6.6552) -> (8.9469, -6.6552) projected
  line L1 (8.9469, -6.6552) -> (8.9469, -16.1673) projected
  line L2 (11.9, -6.6552) -> (8.9469, -6.6552)
  line L3 (8.9469, -6.6552) -> (8.9469, -16.1673)
  line L4 (8.9469, -16.1673) -> (11.9, -16.1673)
  line L5 (11.9, -16.1673) -> (11.9, -6.6552)
  line L6 (8.9469, 44.4871) -> (8.9469, 34.9207) projected
  line L7 (8.9469, 34.9207) -> (11.9, 34.9207)
  line L8 (11.9, 34.9207) -> (11.9, 44.4871)
  line L9 (11.9, 44.4871) -> (8.9469, 44.4871)
  line L10 (8.9469, 44.4871) -> (8.9469, 34.9207)
  point P0 (0, 0)
extrude "Extrusión27" cut sketch "Boceto28" against normal blind 1.8
fillet "Empalme8" radius 1 1 edges at (-10, 14.1599, 11.9)
equation "\"d12\" = d13"
properties part number "Base_motor_servo"
